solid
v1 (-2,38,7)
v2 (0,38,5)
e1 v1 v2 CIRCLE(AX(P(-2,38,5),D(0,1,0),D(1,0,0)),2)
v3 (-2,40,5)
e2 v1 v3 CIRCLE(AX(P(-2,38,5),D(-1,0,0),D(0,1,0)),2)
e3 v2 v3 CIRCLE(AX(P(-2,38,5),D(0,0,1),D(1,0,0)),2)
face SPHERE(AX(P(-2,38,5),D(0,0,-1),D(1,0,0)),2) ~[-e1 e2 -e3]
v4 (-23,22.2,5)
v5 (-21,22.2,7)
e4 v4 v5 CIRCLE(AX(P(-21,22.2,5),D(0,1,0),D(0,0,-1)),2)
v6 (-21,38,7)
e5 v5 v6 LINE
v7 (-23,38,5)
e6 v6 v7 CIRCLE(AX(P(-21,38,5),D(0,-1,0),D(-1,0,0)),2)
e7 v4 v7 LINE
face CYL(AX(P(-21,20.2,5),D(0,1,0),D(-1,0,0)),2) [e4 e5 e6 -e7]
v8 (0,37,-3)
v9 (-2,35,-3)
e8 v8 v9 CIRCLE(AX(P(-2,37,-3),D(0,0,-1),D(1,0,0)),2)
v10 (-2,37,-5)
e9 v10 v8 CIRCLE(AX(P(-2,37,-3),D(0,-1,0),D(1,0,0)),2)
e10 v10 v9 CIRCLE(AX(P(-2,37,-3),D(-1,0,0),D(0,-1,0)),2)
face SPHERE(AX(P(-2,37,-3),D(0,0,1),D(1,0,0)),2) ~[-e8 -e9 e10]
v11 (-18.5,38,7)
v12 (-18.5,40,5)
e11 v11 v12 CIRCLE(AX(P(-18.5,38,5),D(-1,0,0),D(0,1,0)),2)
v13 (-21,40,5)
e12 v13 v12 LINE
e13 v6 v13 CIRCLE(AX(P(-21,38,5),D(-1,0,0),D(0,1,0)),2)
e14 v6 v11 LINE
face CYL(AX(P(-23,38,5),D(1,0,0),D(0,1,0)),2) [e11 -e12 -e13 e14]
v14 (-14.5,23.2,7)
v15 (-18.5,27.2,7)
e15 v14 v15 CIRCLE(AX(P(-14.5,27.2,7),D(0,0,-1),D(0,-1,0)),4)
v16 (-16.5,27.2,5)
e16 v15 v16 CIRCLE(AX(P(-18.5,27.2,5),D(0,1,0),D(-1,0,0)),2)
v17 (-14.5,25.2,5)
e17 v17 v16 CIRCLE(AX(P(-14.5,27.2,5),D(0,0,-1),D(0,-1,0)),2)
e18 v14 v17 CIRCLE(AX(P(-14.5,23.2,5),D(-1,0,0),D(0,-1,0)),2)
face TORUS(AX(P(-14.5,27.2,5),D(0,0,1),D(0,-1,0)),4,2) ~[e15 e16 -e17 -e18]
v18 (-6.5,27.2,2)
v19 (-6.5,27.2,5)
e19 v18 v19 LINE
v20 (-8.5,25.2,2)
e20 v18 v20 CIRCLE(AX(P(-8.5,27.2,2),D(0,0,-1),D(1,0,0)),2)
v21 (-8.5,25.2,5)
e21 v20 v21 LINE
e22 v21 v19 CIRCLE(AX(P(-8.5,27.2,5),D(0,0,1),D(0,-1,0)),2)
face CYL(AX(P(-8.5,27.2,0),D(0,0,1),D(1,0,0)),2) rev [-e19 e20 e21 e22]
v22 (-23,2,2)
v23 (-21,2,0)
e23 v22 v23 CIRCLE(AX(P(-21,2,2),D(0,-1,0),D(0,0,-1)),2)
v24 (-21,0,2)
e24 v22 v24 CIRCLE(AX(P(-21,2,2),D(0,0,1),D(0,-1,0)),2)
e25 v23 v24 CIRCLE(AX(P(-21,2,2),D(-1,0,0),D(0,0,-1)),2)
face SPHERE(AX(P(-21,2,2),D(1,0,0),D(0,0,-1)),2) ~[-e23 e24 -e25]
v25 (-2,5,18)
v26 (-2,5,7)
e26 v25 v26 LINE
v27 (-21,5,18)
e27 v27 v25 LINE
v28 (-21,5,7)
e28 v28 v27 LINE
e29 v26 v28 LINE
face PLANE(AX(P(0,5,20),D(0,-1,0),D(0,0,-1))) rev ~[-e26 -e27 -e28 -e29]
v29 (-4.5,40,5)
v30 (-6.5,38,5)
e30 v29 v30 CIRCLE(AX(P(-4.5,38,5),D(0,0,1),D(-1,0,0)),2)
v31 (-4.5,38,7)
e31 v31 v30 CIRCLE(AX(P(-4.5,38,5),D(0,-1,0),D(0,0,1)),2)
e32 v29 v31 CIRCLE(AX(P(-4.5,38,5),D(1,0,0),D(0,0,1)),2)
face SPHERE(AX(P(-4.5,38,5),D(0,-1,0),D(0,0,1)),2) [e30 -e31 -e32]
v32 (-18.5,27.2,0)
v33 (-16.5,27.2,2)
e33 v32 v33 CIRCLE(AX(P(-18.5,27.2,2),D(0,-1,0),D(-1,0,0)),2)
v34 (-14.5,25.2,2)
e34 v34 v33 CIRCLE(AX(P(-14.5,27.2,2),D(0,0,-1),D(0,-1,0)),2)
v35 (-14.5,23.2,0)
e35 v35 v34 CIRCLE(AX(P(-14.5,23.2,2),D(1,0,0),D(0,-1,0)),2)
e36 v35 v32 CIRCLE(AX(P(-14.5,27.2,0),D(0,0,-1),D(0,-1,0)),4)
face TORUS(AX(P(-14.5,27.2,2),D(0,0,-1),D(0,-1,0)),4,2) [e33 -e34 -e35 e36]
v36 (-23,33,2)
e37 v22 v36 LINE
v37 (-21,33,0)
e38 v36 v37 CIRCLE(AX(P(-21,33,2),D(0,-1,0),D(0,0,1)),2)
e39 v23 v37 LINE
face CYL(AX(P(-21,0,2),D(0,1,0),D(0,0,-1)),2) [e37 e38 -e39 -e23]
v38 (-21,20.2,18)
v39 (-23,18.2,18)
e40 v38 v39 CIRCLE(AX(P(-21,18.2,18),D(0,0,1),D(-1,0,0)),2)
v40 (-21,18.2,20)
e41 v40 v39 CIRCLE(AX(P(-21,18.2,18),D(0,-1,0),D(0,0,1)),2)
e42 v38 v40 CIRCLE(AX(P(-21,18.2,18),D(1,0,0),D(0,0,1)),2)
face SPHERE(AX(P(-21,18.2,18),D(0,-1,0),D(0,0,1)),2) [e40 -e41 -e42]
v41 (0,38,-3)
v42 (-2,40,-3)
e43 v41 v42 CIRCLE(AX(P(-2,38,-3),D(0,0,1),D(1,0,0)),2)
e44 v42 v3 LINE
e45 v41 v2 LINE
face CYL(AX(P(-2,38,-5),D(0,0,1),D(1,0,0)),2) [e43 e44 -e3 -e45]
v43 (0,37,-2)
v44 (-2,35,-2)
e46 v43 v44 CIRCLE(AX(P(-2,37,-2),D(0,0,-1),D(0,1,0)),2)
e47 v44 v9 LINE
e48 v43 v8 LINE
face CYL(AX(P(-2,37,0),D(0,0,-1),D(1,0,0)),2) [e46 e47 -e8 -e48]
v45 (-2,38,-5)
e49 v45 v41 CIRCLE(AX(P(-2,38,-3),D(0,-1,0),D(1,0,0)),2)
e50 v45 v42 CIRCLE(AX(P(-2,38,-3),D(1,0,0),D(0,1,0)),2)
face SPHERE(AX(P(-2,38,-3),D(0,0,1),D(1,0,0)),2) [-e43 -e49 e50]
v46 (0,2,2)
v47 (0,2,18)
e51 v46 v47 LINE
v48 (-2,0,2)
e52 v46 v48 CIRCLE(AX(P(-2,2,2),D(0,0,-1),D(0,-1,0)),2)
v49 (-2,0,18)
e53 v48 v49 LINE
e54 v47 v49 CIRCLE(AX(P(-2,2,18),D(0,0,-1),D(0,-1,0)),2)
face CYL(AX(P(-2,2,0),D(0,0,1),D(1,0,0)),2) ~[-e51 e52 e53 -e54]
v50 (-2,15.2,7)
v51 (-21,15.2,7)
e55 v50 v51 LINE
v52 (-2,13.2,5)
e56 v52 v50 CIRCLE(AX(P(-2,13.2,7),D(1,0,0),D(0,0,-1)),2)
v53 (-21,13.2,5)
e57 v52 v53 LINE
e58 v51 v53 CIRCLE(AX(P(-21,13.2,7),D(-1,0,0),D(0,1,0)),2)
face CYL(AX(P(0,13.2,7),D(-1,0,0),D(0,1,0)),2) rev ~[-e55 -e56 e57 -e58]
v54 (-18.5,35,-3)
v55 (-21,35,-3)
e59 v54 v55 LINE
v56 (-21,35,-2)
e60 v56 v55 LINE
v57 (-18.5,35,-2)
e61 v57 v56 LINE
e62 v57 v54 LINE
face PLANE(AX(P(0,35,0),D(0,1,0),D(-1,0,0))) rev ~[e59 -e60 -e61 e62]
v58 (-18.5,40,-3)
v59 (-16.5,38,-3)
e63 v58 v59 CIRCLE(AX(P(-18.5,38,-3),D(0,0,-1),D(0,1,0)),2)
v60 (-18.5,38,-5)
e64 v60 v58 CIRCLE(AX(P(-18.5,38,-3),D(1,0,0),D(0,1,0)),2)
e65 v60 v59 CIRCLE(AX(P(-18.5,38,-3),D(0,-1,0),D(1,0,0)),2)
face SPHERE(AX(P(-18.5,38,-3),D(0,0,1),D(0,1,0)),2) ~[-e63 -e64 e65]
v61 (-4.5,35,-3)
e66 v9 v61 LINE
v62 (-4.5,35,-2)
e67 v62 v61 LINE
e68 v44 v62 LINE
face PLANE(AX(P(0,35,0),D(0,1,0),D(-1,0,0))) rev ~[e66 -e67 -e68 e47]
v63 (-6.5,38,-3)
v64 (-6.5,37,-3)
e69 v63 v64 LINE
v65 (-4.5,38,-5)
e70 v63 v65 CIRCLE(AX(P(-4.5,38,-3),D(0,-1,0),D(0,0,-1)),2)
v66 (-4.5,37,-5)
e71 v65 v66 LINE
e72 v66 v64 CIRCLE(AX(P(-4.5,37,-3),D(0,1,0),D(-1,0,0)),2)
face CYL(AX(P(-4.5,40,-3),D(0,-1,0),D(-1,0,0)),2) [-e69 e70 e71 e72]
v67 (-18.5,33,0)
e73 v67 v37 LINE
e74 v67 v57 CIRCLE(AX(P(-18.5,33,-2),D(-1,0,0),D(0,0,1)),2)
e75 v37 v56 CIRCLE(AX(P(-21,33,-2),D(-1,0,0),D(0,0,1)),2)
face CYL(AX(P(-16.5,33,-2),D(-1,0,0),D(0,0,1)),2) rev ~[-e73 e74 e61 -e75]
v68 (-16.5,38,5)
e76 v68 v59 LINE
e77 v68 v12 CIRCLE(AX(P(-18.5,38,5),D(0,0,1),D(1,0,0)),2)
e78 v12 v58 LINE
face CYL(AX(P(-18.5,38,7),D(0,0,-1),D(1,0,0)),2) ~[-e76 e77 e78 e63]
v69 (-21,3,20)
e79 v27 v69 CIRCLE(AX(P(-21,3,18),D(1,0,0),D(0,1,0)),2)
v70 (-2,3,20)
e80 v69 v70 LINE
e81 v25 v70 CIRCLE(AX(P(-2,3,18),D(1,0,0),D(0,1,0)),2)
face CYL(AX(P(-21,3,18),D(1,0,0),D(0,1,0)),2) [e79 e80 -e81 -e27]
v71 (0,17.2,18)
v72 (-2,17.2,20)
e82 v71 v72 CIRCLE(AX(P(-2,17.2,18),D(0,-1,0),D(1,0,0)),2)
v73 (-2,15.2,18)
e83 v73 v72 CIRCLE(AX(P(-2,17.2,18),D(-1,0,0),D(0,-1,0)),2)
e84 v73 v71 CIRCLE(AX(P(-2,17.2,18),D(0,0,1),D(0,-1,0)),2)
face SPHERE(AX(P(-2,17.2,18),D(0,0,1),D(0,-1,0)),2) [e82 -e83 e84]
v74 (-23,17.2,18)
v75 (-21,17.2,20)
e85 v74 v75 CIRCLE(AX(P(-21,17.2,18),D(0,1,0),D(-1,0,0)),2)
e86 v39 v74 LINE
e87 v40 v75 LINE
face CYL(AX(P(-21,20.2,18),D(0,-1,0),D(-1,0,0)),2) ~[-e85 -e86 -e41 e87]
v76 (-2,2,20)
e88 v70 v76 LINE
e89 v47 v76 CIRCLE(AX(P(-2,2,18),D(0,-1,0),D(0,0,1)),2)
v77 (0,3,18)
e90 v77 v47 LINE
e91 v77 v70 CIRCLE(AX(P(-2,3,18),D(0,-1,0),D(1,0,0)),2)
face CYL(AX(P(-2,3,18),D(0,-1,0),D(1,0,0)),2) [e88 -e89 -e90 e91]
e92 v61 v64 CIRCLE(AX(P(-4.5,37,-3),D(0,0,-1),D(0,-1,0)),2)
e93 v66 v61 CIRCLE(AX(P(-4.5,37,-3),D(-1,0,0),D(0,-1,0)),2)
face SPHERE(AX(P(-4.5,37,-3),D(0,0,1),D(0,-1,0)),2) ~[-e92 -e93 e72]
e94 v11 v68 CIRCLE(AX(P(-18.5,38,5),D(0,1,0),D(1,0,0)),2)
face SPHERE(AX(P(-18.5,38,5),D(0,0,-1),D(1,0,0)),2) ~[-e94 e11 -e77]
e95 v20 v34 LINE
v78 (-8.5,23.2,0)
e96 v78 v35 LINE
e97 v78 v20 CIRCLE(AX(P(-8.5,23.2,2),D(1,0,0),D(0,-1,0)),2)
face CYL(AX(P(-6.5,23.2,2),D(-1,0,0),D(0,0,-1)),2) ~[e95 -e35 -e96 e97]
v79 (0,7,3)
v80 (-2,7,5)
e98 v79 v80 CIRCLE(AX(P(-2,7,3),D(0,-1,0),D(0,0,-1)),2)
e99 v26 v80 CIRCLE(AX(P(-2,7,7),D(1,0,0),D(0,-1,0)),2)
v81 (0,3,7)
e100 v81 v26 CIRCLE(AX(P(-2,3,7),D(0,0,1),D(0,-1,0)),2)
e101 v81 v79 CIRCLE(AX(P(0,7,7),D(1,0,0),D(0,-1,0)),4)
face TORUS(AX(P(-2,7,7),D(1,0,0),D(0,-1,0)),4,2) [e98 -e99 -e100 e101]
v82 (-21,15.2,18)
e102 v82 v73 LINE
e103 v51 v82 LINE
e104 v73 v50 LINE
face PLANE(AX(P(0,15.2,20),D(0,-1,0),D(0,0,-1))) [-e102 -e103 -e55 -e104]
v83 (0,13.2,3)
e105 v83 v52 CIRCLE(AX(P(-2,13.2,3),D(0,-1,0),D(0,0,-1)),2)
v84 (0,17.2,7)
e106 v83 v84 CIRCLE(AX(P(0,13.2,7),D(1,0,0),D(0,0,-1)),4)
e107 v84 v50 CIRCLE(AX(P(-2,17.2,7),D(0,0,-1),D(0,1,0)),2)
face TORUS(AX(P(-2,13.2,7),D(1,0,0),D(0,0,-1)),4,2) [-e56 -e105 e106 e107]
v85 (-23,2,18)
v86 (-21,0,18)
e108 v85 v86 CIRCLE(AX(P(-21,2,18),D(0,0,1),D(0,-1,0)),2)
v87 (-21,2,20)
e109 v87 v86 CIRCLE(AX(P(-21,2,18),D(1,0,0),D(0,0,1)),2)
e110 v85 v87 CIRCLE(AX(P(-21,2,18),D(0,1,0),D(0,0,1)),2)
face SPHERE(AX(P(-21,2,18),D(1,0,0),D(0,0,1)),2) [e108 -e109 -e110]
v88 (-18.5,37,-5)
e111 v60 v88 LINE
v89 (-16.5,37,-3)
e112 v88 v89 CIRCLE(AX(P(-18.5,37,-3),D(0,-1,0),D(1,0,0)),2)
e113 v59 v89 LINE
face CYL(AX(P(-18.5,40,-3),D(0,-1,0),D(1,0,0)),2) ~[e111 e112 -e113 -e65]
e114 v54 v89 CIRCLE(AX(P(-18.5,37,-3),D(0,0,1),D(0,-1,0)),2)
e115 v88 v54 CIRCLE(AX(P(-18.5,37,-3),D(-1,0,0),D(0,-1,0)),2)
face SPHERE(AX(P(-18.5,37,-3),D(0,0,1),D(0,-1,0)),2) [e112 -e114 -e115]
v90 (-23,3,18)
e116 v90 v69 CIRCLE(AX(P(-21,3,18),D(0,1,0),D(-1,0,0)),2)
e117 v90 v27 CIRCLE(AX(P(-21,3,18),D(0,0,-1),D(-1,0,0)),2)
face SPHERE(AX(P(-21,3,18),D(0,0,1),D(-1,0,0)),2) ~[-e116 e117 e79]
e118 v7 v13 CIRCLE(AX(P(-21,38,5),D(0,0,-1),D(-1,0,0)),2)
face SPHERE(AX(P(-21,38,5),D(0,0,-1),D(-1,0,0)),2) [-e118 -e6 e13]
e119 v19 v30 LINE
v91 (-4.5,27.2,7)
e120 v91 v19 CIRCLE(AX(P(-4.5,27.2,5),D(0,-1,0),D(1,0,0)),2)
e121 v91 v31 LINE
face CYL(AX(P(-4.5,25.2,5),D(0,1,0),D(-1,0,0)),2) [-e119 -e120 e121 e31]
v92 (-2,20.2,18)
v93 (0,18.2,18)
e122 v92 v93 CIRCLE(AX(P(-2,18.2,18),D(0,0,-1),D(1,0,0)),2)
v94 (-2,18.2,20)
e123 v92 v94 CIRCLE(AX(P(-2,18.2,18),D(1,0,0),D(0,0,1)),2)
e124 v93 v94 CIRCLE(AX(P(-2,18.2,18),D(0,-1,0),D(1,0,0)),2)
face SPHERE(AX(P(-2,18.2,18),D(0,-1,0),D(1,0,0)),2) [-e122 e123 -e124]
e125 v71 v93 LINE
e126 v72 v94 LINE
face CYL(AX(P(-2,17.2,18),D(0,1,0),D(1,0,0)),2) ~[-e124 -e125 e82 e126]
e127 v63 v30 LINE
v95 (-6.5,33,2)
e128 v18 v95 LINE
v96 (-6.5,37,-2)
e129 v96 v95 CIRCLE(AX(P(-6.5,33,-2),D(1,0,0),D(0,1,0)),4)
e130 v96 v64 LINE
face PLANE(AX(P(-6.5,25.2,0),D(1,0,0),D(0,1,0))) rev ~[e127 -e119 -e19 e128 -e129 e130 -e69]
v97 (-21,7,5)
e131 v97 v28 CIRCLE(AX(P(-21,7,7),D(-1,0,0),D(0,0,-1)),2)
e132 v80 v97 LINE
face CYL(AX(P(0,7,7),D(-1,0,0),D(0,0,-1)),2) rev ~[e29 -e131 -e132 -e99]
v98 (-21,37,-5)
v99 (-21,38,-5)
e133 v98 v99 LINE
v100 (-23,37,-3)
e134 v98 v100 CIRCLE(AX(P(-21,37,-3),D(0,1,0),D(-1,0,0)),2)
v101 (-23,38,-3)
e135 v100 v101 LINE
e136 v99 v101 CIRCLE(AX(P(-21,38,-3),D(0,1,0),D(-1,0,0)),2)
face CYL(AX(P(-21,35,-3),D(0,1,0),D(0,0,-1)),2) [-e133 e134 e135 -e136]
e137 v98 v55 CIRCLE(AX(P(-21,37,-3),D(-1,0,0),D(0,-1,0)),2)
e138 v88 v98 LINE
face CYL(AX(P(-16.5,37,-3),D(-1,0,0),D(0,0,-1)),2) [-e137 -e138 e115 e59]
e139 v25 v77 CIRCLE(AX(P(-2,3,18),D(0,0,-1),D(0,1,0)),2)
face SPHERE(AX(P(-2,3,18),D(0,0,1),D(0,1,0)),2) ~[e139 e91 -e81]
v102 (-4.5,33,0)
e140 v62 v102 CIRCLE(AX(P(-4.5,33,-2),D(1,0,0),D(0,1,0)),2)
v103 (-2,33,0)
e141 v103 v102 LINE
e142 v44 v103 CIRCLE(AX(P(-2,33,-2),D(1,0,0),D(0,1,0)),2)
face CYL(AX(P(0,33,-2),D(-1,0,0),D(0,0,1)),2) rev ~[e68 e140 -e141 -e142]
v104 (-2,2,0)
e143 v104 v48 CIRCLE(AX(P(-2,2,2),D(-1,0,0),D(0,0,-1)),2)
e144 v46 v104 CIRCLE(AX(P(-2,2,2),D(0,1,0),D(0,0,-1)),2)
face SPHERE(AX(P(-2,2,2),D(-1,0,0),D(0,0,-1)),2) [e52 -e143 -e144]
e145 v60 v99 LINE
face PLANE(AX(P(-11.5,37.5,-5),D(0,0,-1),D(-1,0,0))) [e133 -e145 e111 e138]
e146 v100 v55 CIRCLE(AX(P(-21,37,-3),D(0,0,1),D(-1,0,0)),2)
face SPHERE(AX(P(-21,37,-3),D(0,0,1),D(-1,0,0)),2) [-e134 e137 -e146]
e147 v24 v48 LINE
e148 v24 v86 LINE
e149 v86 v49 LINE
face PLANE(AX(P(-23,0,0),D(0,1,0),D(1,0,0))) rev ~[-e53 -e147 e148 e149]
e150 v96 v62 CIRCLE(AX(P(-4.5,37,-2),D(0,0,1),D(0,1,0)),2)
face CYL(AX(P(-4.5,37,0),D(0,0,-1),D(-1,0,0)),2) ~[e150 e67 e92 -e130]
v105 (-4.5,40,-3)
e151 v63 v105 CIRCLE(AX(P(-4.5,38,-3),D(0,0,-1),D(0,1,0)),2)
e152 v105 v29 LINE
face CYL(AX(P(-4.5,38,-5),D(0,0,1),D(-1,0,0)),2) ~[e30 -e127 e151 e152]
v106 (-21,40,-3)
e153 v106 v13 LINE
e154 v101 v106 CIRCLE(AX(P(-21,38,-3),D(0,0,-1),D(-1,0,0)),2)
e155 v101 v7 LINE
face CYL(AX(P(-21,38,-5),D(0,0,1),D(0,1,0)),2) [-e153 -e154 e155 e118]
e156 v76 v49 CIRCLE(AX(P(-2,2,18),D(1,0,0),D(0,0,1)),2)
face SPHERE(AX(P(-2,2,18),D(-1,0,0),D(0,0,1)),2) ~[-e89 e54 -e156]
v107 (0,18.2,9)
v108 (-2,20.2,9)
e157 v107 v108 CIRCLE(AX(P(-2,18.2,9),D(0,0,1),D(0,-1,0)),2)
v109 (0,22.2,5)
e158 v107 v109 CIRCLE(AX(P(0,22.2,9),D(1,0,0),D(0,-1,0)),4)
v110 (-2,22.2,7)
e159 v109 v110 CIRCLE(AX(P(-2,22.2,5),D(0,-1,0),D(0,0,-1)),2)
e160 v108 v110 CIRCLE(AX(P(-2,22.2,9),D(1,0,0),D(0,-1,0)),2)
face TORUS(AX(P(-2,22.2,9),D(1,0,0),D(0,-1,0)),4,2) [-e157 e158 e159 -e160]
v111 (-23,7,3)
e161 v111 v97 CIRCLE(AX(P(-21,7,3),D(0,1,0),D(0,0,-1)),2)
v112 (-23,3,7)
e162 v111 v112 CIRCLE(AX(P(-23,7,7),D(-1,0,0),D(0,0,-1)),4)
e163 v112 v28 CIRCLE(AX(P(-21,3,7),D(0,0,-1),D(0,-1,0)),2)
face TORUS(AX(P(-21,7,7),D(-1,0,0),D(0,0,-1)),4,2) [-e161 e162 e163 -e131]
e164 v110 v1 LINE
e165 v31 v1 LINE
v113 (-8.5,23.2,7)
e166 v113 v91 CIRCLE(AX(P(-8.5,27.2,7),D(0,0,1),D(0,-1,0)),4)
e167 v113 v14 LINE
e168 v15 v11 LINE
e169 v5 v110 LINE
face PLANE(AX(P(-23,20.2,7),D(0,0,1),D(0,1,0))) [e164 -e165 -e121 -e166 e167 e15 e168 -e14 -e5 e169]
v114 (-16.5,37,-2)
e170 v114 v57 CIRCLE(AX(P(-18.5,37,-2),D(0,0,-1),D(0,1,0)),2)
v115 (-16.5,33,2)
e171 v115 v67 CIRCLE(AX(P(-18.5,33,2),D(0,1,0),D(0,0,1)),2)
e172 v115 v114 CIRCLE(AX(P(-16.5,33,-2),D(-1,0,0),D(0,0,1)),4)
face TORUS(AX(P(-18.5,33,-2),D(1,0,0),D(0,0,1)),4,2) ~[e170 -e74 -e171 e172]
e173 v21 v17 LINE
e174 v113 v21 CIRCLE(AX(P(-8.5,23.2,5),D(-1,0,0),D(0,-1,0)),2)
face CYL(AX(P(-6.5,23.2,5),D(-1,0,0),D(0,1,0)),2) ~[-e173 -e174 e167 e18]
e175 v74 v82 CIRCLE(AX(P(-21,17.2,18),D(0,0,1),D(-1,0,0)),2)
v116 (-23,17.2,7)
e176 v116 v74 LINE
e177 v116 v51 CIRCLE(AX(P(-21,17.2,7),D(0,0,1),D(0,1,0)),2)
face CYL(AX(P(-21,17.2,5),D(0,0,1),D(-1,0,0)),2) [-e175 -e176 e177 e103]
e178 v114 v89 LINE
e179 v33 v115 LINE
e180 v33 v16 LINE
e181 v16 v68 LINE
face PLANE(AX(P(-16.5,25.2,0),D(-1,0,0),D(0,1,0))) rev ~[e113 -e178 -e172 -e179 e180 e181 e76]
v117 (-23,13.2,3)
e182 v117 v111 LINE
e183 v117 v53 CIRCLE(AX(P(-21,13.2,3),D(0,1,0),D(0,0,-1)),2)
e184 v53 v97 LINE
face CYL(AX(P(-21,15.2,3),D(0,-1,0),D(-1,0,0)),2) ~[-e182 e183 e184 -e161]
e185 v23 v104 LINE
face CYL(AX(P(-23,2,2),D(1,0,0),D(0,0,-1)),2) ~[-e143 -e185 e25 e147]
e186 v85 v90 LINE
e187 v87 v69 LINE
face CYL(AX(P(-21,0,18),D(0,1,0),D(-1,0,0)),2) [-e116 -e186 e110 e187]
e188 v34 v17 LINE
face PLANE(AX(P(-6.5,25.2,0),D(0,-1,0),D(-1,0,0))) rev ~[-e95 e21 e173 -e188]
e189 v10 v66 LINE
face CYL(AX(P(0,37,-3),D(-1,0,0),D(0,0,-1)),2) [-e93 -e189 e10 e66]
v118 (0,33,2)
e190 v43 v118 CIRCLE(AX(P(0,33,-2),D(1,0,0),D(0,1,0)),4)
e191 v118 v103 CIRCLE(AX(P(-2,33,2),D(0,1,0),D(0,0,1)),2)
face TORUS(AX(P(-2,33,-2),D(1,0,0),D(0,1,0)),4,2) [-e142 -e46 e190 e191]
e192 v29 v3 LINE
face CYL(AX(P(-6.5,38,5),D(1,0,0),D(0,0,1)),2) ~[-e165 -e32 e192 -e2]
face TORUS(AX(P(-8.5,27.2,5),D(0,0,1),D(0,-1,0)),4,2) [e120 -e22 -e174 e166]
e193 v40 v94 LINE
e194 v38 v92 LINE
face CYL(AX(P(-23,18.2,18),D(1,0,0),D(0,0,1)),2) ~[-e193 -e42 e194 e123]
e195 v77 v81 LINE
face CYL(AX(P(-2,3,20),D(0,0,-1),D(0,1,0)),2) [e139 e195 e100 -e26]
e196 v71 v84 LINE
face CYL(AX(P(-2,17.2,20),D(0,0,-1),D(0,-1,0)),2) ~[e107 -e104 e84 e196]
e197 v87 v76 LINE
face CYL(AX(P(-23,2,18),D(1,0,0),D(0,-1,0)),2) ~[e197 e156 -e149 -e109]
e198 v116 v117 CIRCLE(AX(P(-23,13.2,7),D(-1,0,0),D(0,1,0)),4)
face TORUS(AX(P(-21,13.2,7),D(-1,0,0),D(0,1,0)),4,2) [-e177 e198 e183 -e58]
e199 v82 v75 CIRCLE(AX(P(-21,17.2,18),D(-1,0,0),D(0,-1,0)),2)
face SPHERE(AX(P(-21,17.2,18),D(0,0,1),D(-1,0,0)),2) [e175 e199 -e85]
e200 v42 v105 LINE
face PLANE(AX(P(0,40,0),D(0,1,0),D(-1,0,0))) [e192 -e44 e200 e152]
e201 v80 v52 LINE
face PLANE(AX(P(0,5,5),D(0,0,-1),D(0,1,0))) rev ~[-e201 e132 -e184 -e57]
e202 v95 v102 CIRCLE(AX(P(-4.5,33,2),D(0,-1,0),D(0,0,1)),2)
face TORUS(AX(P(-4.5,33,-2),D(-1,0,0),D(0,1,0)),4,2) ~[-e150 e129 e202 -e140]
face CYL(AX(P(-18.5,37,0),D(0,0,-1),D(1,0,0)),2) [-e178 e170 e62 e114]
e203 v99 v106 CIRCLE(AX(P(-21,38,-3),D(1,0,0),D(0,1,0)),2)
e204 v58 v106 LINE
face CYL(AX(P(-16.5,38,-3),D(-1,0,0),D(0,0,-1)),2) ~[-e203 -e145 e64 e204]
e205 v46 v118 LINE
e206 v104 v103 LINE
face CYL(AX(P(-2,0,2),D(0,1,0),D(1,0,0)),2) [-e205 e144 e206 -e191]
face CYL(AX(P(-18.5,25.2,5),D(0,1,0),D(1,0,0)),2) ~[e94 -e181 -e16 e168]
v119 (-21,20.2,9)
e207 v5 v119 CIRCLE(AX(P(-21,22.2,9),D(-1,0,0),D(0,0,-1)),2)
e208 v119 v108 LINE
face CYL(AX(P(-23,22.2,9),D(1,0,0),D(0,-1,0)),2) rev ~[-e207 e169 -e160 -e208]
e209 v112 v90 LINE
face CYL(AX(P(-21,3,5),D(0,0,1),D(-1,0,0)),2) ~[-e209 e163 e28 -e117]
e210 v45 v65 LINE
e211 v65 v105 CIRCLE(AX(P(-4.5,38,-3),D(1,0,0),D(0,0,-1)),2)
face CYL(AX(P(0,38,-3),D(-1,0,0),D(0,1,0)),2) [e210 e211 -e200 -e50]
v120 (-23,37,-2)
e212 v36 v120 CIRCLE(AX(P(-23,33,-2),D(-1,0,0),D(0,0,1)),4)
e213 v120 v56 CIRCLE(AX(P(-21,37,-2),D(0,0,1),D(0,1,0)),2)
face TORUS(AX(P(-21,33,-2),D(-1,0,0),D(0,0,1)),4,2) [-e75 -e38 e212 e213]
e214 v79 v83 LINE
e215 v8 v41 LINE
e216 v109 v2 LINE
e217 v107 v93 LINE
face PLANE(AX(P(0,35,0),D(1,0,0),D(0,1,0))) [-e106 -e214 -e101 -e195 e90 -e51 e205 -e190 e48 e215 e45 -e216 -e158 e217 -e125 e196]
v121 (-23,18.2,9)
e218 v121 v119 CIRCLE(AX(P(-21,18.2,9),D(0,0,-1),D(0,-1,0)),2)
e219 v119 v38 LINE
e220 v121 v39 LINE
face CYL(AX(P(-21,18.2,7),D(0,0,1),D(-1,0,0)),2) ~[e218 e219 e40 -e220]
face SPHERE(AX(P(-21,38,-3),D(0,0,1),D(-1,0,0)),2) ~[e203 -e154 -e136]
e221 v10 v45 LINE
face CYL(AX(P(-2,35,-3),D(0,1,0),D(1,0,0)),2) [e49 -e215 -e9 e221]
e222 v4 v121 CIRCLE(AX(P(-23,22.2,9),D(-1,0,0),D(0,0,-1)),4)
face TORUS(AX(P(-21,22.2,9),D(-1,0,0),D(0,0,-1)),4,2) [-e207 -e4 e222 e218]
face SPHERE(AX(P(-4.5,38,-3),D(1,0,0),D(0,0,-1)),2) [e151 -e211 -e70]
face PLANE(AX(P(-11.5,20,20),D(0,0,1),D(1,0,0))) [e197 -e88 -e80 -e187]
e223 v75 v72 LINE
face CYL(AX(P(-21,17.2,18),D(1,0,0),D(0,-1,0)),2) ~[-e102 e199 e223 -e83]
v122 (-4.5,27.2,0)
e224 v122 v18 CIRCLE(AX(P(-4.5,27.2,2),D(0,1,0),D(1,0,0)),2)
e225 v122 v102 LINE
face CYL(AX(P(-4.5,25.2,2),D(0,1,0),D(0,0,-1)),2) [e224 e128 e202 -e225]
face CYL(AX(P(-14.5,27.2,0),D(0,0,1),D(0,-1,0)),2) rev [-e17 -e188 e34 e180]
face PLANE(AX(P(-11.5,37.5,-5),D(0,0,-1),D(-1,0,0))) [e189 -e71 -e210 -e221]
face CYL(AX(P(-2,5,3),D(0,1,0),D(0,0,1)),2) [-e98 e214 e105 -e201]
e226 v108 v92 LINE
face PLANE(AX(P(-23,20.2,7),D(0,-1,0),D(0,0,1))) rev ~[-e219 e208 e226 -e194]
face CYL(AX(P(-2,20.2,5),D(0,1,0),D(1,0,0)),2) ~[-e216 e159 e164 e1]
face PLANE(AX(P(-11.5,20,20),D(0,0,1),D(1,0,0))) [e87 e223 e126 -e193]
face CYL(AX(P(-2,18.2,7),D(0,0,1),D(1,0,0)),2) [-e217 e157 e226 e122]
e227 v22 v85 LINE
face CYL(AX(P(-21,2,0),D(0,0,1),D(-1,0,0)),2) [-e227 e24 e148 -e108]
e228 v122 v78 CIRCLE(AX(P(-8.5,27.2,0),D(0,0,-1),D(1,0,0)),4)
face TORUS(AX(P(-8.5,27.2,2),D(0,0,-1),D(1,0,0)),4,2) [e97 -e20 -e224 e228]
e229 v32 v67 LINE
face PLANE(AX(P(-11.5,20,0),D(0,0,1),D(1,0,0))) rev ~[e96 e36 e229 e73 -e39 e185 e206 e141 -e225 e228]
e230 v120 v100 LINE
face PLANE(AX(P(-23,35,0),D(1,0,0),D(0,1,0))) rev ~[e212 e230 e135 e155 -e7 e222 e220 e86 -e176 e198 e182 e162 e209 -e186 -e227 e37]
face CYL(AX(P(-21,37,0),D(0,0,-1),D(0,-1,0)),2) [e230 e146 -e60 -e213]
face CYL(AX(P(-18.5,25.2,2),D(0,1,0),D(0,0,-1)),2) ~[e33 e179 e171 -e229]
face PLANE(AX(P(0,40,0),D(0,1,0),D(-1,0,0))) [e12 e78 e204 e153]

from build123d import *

# Parameters (mm, degrees)
SKETCH1_W                      = 23
SKETCH1_H                      = 40
BOSS_EXTRUDE1_DEPTH            = 20
SKETCH2_W                      = 15
SKETCH2_H                      = 10.2
CUT_EXTRUDE1_DEPTH             = 51.289163843
FILLET1_R                      = 2
SKETCH4_W                      = 13
SKETCH4_H                      = 19.8
CUT_EXTRUDE3_DEPTH             = 51.289163843
SKETCH6_W                      = 23
SKETCH6_H                      = 5
BOSS_EXTRUDE2_DEPTH            = 5
CUT_EXTRUDE4_REACH             = 52.289
SKETCH5_W                      = 10
SKETCH5_H                      = 14.8
CUT_EXTRUDE4_DIRECTION_2_DEPTH = 51.289163843
FILLET11_R                     = 2


with BuildPart() as part:
    # Sketch1 → Boss-Extrude1 (new body)
    with BuildSketch(Plane.XY):
        with Locations((-11.5, 20)):
            Rectangle(SKETCH1_W, SKETCH1_H)
    extrude(amount=BOSS_EXTRUDE1_DEPTH)

    # Sketch2 → Cut-Extrude1 (cut, through all)
    with BuildSketch(Plane(origin=(0, 0, 0), x_dir=(0, 0, -1), z_dir=(1, 0, 0))):
        with Locations((-12.5, 10.1)):
            Rectangle(SKETCH2_W, SKETCH2_H)
    extrude(amount=-CUT_EXTRUDE1_DEPTH, mode=Mode.SUBTRACT)

    # Fillet1
    fillet1_edges = [part.edges().sort_by_distance(p)[0] for p in [
        (-23, 15.2, 12.5),
        (-23, 10.1, 5),
        (-11.5, 15.2, 5),
        (-23, 5, 12.5),
        (-11.5, 5, 5),
        (0, 5, 12.5),
        (0, 10.1, 5),
        (0, 15.2, 12.5),
    ]]
    fillet(fillet1_edges, radius=FILLET1_R)

    # Sketch4 → Cut-Extrude3 (cut, through all)
    with BuildSketch(Plane.ZY.offset(23)):
        with Locations((13.5, 30.1)):
            Rectangle(SKETCH4_W, SKETCH4_H)
    extrude(amount=-CUT_EXTRUDE3_DEPTH, mode=Mode.SUBTRACT)

    # Sketch6 → Boss-Extrude2 (add)
    with BuildSketch(Plane(origin=(0, 0, 0), x_dir=(-1, 0, 0), z_dir=(0, 0, -1))):
        with Locations((11.5, 37.5)):
            Rectangle(SKETCH6_W, SKETCH6_H)
    extrude(amount=BOSS_EXTRUDE2_DEPTH)

    # Sketch5 → Cut-Extrude4 (cut, up to next)
    with BuildSketch(Plane(origin=(0, 0, 0), x_dir=(-1, 0, 0), z_dir=(0, 0, -1)), mode=Mode.PRIVATE) as cut_extrude4_sk1:
        with Locations((11.5, 32.6)):
            Rectangle(SKETCH5_W, SKETCH5_H)
    cut_extrude4_tool1 = extrude(cut_extrude4_sk1.sketch, amount=-CUT_EXTRUDE4_REACH, mode=Mode.PRIVATE) & part.part
    add(cut_extrude4_tool1.solids().sort_by_distance((-11.5, 32.6, 0))[0], mode=Mode.SUBTRACT)

    # Sketch5 → Cut-Extrude4 direction 2 (cut)
    with BuildSketch(Plane(origin=(0, 0, 0), x_dir=(-1, 0, 0), z_dir=(0, 0, -1))):
        with Locations((11.5, 32.6)):
            Rectangle(SKETCH5_W, SKETCH5_H)
    extrude(amount=CUT_EXTRUDE4_DIRECTION_2_DEPTH, mode=Mode.SUBTRACT)

    # Fillet11
    fillet11_edges = [part.edges().sort_by_distance(p)[0] for p in [
        (-16.5, 25.2, 3.5),
        (-6.5, 35, -2.5),
        (-6.5, 30.1, 0),
        (-11.5, 25.2, 0),
        (-16.5, 30.1, 0),
        (-16.5, 35, -2.5),
        (-16.5, 40, 1),
        (-11.5, 25.2, 7),
        (-6.5, 32.6, 7),
        (-16.5, 32.6, 7),
        (-11.5, 0, 20),
        (-23, 1.5, 20),
        (-11.5, 5, 20),
        (-0.585786438, 4.414213562, 20),
        (-22.414213562, 4.414213562, 20),
        (0, 18.7, 20),
        (-11.5, 15.2, 20),
        (-0.585786438, 15.785786438, 20),
        (-22.414213562, 15.785786438, 20),
        (0, 1.5, 20),
        (-11.5, 0, 0),
        (0, 17.5, 0),
        (-23, 18.7, 20),
        (-23, 40, 1),
        (0, 40, 1),
        (0, 20.2, 13.5),
        (-11.5, 20.2, 20),
        (0, 30.1, 7),
        (-11.5, 20.2, 7),
        (-3.25, 40, 7),
        (-23, 30.1, 7),
        (-23, 20.2, 13.5),
        (-23, 17.5, 0),
        (0, 0, 10),
        (-3.25, 35, 0),
        (-23, 0, 10),
        (0, 35, -2.5),
        (-23, 35, -2.5),
        (0, 37.5, -5),
        (-3.25, 35, -5),
        (-23, 37.5, -5),
        (-19.75, 40, -5),
        (-19.75, 35, -5),
        (-3.25, 40, -5),
        (-16.5, 37.5, -5),
        (-19.75, 35, 0),
        (-19.75, 40, 7),
        (-6.5, 25.2, 3.5),
        (-6.5, 37.5, -5),
        (-6.5, 40, 1),
    ]]
    fillet(fillet11_edges, radius=FILLET11_R)


solid = part.part
